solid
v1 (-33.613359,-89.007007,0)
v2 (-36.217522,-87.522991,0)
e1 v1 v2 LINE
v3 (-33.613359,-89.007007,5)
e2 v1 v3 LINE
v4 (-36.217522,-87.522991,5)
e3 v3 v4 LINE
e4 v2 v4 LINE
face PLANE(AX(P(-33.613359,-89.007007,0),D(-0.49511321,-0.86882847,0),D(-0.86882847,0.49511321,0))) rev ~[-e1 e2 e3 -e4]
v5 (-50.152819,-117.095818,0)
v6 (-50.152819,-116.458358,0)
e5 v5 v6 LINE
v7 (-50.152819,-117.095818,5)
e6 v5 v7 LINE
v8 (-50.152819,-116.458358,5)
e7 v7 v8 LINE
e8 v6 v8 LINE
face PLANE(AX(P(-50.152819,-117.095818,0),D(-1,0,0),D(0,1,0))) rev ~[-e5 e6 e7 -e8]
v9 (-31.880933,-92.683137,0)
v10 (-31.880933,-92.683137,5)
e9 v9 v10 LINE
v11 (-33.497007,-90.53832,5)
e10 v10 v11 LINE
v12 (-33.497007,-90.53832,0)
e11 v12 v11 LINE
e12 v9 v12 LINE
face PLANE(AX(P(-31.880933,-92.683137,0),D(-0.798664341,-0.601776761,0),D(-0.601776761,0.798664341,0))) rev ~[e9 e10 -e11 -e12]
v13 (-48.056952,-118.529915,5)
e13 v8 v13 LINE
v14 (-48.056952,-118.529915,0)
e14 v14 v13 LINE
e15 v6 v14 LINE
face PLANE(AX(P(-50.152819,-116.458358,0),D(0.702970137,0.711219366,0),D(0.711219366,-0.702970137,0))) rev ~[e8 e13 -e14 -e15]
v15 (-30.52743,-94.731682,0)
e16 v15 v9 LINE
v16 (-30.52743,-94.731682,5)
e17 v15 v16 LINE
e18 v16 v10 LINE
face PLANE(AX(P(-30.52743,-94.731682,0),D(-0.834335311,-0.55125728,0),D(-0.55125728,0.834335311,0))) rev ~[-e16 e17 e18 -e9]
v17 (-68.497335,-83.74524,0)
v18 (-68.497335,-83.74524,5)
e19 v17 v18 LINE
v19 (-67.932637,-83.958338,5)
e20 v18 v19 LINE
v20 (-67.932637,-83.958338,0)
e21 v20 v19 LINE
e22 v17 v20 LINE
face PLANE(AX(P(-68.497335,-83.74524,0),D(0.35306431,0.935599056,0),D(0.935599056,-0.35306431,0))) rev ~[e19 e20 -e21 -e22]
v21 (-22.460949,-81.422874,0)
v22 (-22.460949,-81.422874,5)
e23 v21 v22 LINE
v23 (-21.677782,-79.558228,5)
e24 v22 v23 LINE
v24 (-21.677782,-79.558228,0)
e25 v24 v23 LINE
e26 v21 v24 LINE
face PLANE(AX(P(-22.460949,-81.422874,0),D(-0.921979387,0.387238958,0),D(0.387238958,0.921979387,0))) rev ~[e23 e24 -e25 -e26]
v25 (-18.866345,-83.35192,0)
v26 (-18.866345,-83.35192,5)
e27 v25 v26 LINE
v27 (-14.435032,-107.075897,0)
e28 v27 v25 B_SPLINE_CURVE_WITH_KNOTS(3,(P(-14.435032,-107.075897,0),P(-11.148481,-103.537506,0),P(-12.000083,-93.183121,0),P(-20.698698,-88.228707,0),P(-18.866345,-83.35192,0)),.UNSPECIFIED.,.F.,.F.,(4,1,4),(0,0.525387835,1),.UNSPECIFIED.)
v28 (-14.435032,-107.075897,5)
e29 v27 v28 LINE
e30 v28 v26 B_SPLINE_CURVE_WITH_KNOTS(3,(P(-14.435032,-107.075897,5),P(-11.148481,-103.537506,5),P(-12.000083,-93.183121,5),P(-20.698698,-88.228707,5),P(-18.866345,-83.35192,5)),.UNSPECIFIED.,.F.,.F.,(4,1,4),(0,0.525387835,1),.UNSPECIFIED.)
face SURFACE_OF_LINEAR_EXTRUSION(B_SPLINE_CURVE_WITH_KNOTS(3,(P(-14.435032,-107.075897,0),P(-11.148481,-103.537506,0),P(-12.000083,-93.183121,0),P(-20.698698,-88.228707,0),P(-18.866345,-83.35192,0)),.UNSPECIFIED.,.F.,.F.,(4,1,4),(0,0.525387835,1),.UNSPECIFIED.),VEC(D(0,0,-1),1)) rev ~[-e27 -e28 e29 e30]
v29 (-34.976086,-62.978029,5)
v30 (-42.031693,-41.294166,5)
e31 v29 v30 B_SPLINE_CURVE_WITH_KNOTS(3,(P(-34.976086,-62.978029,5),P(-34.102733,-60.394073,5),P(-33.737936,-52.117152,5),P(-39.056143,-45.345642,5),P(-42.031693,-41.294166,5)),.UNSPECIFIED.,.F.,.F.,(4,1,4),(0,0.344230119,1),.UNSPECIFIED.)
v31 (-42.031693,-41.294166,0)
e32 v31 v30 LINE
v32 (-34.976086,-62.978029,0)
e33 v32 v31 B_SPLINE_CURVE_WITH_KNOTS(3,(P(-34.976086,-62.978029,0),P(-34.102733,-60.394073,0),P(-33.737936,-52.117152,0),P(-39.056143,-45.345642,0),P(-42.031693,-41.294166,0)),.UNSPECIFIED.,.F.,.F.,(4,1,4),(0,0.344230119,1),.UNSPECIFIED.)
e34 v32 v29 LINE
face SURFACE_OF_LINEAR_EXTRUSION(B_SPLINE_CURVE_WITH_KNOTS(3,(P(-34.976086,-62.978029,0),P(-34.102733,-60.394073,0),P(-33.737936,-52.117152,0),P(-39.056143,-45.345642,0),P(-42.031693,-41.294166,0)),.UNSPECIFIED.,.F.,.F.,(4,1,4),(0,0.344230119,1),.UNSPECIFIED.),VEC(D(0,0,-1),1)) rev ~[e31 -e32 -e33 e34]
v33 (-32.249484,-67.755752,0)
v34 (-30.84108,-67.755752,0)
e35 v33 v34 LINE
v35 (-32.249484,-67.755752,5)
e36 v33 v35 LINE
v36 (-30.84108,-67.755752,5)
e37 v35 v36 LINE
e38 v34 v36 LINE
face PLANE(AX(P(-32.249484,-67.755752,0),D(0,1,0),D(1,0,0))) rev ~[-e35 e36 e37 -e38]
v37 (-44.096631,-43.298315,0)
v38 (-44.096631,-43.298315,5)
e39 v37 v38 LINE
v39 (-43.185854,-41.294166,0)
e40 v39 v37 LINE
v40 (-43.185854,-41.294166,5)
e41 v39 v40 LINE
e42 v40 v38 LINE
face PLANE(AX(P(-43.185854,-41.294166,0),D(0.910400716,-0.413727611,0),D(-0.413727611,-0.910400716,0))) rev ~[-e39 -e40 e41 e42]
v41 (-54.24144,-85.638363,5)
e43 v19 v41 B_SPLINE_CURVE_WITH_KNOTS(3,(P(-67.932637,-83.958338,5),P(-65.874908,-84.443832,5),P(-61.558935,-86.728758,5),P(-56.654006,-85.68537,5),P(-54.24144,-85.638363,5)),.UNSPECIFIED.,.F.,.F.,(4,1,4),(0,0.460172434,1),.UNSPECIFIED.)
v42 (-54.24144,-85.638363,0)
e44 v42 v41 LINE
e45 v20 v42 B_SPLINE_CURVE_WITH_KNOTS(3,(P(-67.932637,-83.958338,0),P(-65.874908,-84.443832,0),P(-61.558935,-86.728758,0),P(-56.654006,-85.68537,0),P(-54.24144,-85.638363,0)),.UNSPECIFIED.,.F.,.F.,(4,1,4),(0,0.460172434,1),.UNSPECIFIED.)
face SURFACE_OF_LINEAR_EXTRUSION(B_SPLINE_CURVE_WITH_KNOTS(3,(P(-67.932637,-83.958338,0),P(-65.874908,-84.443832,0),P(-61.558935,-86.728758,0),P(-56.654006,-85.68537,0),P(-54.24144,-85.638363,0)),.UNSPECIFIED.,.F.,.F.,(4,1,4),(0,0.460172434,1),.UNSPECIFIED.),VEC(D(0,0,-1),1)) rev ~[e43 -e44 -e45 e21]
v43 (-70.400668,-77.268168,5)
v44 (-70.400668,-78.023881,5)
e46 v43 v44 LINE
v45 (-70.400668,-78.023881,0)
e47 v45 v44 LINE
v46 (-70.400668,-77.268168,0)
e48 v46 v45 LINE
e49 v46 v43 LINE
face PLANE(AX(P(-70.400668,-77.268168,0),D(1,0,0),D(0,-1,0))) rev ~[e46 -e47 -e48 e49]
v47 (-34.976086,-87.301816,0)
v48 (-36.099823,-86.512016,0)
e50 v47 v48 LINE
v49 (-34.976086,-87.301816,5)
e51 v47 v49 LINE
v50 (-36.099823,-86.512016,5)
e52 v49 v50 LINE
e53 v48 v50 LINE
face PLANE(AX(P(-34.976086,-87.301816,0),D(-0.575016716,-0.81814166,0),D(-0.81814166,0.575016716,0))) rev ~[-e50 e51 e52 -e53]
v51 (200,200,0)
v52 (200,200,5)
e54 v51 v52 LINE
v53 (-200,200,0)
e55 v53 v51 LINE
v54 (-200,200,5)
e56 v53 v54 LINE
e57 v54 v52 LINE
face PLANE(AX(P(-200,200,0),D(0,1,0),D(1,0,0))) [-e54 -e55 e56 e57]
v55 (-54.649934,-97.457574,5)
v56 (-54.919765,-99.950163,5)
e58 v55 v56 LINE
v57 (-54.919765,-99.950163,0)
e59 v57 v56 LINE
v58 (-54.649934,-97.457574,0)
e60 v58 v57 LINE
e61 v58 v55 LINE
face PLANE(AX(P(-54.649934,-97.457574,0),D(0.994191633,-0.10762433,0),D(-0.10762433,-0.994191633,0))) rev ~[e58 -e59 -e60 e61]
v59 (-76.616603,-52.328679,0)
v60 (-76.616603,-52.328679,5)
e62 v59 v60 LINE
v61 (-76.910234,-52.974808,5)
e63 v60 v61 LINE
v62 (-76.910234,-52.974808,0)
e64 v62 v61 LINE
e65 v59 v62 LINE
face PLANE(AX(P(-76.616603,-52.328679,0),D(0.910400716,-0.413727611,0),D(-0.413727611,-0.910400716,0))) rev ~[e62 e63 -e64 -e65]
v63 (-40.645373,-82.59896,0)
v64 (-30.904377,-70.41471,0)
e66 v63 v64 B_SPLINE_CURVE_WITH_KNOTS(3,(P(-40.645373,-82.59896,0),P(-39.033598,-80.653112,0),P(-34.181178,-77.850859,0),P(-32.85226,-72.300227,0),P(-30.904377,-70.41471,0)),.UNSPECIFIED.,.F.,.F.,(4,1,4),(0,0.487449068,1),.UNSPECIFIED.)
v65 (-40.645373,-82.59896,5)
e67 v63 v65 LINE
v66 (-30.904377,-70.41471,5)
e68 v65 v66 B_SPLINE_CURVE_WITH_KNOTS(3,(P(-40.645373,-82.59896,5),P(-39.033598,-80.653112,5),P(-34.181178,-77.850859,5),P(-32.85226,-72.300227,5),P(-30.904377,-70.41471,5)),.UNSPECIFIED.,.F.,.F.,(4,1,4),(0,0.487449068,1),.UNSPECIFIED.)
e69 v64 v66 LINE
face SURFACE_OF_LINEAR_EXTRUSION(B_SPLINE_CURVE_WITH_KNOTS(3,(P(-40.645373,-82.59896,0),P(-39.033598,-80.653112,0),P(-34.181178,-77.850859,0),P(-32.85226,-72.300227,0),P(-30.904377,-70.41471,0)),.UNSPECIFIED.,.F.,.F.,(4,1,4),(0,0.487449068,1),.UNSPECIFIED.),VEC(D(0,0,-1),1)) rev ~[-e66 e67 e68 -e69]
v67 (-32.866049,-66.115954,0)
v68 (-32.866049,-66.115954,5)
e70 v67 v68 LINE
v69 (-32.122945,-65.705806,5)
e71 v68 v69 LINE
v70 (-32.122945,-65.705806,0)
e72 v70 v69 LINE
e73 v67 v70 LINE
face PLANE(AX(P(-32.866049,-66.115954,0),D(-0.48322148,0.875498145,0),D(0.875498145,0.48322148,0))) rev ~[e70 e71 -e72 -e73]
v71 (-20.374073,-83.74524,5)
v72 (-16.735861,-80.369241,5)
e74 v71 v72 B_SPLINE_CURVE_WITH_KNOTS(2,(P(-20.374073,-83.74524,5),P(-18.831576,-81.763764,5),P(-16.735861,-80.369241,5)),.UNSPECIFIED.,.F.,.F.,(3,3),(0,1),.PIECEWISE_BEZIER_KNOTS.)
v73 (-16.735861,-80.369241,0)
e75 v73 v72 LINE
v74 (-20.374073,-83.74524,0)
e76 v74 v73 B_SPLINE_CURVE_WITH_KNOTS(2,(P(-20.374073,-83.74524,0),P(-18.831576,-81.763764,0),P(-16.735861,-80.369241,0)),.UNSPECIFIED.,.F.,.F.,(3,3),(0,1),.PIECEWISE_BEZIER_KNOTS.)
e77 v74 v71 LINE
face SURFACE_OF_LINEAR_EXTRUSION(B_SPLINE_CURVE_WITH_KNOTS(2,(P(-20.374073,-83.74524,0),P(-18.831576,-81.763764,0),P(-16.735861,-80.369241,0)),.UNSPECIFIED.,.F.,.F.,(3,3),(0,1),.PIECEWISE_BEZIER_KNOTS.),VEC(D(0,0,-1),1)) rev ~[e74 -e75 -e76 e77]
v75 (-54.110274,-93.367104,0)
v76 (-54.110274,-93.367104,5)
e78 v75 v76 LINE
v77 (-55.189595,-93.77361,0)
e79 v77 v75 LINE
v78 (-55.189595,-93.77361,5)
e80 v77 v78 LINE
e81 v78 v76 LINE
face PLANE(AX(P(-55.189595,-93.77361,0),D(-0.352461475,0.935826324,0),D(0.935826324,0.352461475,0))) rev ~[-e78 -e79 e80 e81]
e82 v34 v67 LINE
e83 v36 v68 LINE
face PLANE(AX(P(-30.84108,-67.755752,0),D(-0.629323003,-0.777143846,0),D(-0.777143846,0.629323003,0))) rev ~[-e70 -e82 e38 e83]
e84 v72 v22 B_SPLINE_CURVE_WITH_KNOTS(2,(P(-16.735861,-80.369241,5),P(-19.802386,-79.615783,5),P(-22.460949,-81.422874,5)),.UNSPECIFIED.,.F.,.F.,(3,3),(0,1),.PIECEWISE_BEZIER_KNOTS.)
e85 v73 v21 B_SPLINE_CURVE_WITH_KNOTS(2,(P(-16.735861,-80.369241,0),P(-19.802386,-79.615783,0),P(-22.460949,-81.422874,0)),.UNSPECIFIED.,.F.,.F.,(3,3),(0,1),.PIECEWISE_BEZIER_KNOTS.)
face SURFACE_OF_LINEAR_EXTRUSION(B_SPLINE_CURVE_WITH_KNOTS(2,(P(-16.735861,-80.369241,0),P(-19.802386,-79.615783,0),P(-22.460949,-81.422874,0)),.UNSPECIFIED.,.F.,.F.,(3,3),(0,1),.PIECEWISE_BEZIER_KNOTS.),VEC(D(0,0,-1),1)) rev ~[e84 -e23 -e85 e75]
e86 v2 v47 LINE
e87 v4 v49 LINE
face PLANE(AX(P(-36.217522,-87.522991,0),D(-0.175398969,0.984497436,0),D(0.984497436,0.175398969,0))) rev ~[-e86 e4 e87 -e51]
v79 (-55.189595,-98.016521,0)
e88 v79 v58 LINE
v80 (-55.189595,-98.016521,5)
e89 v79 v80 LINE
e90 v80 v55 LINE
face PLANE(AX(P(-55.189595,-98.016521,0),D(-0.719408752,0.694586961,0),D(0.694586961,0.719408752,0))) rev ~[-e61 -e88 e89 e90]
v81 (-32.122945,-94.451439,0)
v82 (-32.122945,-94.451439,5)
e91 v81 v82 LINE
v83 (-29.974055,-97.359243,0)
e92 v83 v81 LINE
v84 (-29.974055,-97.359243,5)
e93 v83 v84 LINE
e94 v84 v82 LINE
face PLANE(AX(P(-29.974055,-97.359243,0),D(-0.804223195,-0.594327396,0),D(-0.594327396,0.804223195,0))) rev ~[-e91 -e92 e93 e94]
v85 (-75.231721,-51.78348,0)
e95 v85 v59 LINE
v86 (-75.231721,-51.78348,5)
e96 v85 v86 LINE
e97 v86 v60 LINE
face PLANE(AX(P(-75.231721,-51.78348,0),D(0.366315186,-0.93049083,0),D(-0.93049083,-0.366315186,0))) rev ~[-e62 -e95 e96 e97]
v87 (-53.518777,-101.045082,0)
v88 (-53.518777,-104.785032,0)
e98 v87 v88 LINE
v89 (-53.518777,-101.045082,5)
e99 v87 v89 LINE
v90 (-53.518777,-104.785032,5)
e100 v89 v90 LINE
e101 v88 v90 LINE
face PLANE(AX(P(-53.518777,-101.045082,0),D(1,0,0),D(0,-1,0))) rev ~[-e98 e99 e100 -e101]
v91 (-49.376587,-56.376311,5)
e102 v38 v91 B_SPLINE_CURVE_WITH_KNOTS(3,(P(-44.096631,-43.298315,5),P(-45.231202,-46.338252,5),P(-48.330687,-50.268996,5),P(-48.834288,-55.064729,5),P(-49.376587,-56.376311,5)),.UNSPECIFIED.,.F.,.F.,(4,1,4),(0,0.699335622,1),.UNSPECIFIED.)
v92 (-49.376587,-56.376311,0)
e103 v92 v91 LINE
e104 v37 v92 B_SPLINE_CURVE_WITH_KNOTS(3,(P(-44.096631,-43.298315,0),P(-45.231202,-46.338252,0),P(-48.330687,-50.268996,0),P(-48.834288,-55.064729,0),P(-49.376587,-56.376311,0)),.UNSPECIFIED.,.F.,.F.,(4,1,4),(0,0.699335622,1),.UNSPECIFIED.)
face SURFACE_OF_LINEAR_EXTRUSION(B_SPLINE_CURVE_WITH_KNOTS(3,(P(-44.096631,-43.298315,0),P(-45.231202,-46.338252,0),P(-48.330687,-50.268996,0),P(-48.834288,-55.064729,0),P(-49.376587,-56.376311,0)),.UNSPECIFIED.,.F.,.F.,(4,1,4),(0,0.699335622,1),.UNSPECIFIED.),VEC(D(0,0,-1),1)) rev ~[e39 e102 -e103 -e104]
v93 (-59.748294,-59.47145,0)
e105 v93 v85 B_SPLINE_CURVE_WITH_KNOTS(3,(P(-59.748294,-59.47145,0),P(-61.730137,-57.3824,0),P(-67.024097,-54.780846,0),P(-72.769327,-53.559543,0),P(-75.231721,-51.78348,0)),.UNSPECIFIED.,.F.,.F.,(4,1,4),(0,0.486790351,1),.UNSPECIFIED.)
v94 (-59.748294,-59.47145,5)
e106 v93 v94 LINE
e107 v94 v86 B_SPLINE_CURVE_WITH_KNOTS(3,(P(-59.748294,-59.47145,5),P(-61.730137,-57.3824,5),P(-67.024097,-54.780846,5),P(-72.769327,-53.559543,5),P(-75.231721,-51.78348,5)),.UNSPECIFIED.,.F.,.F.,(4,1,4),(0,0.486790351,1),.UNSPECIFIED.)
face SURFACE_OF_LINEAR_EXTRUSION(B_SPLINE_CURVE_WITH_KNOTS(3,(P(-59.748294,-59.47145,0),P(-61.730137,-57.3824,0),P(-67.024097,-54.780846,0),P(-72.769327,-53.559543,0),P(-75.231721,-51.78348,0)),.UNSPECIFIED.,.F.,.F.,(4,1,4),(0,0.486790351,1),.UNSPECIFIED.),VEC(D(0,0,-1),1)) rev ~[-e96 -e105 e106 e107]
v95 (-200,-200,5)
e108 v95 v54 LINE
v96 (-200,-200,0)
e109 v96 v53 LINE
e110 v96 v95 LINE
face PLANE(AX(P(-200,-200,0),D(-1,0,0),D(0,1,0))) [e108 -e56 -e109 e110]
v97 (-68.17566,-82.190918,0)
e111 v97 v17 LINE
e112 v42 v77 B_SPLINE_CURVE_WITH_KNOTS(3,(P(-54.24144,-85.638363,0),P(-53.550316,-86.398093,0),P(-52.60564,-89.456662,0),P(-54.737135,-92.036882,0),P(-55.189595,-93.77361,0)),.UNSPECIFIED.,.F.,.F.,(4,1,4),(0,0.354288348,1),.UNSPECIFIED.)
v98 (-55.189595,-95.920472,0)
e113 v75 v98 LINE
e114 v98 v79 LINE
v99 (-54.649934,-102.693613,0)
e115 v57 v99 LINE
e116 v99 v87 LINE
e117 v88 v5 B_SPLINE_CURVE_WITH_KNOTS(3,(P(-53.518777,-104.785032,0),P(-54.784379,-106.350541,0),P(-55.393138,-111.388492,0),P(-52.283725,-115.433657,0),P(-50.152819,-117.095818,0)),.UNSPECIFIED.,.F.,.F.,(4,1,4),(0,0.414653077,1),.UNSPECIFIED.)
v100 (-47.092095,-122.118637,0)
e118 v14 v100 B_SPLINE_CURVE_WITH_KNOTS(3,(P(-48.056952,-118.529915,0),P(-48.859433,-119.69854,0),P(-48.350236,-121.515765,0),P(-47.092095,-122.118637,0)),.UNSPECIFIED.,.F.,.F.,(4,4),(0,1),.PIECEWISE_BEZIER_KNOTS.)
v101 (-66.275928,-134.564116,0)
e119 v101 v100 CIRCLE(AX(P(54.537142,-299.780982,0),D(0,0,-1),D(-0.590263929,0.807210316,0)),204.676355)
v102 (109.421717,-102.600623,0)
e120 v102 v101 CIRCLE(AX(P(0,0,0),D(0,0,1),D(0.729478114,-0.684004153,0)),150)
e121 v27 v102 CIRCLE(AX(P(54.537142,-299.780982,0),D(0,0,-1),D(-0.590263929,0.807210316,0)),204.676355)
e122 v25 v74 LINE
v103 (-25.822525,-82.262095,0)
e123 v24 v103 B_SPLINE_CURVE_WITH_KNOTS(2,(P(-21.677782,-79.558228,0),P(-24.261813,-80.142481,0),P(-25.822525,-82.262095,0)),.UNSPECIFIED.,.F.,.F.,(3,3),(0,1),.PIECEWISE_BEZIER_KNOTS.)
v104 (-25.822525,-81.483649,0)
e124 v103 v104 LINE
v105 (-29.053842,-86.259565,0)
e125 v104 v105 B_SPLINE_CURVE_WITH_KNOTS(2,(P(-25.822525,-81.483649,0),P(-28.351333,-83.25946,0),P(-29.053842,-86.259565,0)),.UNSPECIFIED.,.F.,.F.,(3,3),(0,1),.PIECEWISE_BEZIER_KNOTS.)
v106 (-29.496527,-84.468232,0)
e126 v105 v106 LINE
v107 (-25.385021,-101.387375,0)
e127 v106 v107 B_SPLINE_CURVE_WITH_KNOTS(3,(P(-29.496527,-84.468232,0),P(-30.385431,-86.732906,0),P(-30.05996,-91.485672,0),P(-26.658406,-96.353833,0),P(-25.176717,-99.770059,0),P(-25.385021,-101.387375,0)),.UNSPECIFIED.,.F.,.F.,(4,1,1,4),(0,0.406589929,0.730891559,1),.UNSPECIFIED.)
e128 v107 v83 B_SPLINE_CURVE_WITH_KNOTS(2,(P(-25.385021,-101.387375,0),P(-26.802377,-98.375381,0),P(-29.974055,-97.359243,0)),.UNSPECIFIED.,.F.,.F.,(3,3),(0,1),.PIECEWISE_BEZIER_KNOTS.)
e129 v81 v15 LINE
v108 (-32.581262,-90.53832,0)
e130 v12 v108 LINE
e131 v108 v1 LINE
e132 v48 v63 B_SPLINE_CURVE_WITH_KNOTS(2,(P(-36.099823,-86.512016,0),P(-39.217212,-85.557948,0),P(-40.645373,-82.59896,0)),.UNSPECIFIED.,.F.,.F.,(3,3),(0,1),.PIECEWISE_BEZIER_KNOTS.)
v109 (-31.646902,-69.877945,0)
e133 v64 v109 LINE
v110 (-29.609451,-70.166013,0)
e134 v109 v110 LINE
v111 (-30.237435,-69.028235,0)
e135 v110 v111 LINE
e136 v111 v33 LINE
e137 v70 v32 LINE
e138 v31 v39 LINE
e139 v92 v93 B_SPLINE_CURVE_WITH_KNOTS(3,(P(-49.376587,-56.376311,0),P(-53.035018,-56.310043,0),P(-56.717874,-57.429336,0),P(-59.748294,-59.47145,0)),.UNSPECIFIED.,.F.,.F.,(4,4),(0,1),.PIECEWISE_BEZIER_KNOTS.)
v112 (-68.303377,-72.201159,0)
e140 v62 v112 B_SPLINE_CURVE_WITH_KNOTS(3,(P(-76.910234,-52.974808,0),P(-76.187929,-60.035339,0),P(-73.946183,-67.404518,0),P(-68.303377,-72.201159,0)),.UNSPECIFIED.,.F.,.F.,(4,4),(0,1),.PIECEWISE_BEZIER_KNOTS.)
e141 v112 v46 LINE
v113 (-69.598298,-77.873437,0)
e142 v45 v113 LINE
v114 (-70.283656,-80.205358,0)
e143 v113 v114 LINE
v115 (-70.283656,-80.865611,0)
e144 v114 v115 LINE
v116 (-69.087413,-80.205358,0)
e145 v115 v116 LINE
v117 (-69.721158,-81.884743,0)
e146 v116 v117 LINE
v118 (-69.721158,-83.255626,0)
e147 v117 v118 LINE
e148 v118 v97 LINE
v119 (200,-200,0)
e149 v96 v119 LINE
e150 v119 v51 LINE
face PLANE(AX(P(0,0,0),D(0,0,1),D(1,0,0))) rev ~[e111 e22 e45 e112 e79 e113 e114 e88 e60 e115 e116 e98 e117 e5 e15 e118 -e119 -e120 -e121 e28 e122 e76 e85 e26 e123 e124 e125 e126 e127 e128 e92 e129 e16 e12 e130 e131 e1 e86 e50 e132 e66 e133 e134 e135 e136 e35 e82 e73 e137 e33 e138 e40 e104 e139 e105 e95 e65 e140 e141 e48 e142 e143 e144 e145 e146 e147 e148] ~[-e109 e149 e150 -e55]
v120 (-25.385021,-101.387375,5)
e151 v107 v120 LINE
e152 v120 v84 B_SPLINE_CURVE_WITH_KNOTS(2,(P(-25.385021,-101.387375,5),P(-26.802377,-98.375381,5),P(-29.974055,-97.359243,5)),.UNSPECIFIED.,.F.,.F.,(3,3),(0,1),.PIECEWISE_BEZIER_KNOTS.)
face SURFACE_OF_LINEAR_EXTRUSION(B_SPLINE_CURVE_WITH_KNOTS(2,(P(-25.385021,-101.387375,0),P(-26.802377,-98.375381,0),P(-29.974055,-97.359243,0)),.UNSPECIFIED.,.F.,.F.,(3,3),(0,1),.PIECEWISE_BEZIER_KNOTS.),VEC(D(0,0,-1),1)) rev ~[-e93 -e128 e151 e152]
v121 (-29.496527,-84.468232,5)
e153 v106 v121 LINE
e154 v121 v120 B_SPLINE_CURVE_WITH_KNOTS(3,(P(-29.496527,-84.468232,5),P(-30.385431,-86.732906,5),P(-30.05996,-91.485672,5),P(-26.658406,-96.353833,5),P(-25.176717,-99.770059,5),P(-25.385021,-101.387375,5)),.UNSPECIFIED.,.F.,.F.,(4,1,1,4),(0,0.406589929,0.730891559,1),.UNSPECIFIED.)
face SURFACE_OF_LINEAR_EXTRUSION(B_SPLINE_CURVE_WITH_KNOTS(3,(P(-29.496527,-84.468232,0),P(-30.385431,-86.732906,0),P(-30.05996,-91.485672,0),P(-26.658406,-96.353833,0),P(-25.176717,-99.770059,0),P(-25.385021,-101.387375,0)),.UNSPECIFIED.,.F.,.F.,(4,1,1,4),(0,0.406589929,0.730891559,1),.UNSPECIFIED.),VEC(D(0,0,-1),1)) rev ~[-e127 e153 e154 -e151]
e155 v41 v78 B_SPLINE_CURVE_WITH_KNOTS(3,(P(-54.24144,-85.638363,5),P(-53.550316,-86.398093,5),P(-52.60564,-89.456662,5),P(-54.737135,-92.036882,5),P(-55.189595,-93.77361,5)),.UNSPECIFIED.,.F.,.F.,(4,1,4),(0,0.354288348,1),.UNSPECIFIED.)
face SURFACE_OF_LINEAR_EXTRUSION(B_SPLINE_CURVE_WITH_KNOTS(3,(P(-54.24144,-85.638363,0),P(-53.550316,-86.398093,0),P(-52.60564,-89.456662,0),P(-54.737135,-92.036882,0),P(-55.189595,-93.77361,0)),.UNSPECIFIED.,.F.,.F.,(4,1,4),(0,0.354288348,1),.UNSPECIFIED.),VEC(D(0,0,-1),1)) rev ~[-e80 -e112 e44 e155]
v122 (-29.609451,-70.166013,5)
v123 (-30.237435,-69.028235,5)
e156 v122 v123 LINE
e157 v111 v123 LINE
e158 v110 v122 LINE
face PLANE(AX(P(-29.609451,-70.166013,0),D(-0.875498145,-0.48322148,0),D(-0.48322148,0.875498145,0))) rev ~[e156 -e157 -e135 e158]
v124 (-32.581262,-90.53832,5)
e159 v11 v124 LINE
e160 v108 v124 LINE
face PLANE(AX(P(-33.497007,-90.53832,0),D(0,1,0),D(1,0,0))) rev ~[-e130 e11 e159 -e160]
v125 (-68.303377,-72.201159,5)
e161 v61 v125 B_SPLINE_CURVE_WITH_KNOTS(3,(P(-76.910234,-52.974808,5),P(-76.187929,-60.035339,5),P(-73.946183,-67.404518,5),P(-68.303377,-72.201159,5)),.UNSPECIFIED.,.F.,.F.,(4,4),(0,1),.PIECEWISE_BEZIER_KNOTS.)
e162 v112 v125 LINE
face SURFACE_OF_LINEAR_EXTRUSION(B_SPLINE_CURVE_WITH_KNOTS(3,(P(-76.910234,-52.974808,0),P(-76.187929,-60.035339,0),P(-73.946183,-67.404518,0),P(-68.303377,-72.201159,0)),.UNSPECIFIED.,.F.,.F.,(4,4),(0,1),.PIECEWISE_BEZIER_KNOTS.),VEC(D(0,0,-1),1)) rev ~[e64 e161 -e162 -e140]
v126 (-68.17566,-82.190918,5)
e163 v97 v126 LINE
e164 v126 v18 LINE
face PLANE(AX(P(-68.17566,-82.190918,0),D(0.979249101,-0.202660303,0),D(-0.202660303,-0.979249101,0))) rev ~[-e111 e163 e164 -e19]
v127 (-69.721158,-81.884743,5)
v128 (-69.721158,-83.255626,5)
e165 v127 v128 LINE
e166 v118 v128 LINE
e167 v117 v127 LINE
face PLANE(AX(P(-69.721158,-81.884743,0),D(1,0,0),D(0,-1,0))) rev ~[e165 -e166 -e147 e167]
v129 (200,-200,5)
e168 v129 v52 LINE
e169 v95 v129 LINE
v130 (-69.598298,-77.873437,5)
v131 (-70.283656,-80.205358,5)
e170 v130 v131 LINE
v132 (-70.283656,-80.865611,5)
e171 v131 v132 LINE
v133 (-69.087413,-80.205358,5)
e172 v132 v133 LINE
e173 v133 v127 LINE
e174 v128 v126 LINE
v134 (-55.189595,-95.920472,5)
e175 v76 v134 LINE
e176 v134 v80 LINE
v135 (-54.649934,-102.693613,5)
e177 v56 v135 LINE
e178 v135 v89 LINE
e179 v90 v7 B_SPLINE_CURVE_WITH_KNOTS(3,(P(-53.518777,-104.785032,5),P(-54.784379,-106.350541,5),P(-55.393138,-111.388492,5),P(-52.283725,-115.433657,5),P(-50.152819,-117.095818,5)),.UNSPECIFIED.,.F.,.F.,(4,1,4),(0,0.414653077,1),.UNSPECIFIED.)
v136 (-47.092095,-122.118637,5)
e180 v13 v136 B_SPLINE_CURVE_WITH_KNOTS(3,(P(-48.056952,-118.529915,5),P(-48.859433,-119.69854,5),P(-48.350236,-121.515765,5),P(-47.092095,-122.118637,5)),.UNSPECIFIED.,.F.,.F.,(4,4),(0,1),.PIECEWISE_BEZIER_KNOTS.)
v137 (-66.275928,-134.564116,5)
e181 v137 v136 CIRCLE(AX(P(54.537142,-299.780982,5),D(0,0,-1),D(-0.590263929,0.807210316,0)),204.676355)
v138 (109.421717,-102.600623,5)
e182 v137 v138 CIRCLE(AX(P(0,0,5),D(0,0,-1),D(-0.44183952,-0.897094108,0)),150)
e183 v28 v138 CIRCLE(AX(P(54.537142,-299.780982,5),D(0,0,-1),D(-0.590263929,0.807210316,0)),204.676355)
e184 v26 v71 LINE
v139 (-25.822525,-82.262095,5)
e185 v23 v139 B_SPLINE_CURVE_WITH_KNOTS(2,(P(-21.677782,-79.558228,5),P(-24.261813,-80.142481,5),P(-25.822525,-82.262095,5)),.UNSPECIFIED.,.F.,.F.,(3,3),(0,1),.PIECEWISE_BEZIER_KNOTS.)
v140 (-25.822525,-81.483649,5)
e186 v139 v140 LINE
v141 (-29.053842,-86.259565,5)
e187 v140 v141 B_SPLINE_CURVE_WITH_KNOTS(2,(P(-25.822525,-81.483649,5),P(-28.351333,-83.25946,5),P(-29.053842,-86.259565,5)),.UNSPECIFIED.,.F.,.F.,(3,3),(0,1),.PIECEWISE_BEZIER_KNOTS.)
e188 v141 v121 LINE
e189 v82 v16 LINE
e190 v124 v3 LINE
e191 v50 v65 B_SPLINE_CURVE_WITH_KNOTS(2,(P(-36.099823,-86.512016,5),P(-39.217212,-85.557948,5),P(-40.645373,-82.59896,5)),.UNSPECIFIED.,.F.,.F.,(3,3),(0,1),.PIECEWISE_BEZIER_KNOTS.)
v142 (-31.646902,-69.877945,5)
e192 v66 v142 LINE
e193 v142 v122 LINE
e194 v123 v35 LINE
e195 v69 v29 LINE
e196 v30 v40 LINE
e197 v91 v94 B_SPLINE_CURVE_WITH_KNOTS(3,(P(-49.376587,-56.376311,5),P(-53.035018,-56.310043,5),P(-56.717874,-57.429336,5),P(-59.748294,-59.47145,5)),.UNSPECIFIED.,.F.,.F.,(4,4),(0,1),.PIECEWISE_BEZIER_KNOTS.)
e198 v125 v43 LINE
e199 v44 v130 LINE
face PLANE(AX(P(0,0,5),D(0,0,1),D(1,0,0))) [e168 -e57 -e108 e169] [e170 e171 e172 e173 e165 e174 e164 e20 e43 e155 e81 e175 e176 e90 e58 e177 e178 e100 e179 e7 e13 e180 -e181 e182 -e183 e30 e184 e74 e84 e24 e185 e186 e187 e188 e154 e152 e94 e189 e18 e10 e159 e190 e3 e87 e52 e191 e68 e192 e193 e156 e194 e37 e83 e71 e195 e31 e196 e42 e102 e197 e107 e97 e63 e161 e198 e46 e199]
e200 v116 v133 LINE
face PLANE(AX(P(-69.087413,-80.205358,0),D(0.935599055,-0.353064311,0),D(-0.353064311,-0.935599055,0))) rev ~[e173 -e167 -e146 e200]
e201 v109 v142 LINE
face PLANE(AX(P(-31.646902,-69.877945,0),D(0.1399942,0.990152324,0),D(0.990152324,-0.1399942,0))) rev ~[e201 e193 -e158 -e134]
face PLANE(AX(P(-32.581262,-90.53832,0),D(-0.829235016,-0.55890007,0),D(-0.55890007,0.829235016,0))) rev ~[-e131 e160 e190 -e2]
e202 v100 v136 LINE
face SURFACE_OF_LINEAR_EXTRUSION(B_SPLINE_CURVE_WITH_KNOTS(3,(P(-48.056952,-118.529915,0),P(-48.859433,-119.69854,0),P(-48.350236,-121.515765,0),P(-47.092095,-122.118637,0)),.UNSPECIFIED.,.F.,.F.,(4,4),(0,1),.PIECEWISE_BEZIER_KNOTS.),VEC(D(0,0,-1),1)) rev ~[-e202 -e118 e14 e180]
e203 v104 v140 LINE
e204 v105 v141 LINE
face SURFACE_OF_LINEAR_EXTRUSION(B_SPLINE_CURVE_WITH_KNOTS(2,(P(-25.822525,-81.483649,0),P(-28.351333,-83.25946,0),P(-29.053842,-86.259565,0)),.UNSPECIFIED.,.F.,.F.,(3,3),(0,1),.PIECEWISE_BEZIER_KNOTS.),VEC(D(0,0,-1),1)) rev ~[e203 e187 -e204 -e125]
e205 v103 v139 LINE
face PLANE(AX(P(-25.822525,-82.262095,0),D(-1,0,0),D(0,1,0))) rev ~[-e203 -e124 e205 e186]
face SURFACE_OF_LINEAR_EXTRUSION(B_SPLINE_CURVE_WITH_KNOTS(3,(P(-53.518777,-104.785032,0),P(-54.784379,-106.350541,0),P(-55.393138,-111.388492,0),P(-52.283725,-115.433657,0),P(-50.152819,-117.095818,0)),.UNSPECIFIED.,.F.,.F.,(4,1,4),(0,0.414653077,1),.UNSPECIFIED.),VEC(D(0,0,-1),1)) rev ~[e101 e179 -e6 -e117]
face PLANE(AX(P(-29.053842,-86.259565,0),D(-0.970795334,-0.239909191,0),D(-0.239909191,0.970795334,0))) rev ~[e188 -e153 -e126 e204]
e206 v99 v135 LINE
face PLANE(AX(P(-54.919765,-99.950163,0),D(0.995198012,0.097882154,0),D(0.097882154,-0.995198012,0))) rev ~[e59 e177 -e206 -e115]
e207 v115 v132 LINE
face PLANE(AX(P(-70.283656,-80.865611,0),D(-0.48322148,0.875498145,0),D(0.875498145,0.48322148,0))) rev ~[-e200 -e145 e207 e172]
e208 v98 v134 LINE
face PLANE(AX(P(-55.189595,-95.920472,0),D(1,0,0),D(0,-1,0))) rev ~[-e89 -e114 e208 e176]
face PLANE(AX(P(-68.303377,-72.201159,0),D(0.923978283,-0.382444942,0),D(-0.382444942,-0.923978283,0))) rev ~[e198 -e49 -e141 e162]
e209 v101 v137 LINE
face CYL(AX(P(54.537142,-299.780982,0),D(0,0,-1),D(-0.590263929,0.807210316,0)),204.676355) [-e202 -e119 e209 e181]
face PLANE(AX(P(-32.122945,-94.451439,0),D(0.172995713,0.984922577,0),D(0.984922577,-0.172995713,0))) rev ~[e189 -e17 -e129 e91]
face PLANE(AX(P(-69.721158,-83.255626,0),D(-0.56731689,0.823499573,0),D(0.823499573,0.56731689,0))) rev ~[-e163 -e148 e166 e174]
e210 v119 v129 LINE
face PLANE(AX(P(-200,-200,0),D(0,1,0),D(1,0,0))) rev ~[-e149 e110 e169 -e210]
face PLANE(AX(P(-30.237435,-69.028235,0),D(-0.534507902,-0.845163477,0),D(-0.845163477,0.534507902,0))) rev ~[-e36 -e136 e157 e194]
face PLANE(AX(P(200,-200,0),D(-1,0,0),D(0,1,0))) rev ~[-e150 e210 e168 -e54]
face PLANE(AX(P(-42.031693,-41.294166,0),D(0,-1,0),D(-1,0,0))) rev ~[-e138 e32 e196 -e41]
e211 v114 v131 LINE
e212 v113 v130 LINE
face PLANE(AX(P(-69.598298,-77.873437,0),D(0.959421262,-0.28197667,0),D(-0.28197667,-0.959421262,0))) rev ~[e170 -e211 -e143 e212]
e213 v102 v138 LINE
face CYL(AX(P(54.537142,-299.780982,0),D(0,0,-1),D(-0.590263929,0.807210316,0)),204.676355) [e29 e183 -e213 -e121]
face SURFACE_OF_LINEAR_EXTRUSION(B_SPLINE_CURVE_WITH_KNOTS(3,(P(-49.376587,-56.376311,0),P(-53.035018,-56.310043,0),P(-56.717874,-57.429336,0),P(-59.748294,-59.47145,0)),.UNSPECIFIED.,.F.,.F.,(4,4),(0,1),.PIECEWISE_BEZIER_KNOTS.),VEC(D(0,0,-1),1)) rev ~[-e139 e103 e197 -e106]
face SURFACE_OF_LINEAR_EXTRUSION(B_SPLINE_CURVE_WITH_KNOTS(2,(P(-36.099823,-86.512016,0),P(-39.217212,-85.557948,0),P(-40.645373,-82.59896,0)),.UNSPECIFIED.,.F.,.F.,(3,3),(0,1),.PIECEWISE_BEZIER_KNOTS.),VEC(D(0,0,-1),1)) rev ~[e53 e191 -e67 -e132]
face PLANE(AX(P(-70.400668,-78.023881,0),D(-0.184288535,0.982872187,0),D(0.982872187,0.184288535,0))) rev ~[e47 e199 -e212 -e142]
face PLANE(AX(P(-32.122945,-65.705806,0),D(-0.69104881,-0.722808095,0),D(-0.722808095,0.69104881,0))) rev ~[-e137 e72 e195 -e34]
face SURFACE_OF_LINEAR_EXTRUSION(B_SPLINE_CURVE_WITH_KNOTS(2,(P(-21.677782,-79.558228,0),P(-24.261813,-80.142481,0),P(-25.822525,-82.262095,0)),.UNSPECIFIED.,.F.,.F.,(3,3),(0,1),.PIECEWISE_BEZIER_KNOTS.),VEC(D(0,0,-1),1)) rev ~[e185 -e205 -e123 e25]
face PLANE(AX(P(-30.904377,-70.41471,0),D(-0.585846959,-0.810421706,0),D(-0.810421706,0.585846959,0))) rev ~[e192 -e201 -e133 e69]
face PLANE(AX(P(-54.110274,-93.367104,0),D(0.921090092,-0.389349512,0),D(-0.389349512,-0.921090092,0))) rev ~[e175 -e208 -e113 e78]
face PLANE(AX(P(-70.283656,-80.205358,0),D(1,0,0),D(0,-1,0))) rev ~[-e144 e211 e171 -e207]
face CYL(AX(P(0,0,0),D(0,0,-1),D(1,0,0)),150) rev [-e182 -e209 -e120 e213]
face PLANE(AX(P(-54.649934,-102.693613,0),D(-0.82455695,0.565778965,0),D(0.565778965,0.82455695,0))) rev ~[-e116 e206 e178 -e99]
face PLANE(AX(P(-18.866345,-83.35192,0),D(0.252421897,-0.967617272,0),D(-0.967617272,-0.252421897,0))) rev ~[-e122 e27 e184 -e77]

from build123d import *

# Parameters (mm, degrees)
ESQUISSE1_W        = 400
ESQUISSE1_H        = 400
ESQUISSE1_R        = 150
BOSS_EXTRU_1_DEPTH = 5
BOSS_EXTRU_2_START = -5
BOSS_EXTRU_2_DEPTH = 5
BOSS_EXTRU_4_START = -5
BOSS_EXTRU_4_DEPTH = 5


with BuildPart() as part:
    # Esquisse1 → Boss.-Extru.1 (new body)
    with BuildSketch(Plane.XY):
        Rectangle(ESQUISSE1_W, ESQUISSE1_H)
        Circle(ESQUISSE1_R, mode=Mode.SUBTRACT)
    extrude(amount=BOSS_EXTRU_1_DEPTH)

    # Esquisse2 → Boss.-Extru.2 (add)
    with BuildSketch(Plane.XY.offset(5).offset(BOSS_EXTRU_2_START)):
        with BuildLine():
            ThreePointArc((-66.275928016, -134.564116188), (17.903034415, -98.409800426), (109.421717045, -102.600622995))
            ThreePointArc((109.421717045, -102.600622995), (26.84783049, -147.57775577), (-66.275928016, -134.564116188))
        make_face()
    extrude(amount=BOSS_EXTRU_2_DEPTH)

    # Esquisse5 → Boss.-Extru.4 (add)
    with BuildSketch(Plane.XY.offset(5).offset(BOSS_EXTRU_4_START)):
        with BuildLine():
            Line((-18.866345265, -83.351919662), (-20.37407273, -83.74523987))
            add(Edge.make_bspline(
                [(-20.37407273, -83.74523987), (-18.831576298, -81.763764071), (-16.735860805, -80.369241418)],
                knots=[0, 0, 0, 1, 1, 1], degree=2))
            add(Edge.make_bspline(
                [(-16.735860805, -80.369241418), (-19.802386047, -79.615782741), (-22.460949022, -81.422874022)],
                knots=[0, 0, 0, 1, 1, 1], degree=2))
            Line((-22.460949022, -81.422874022), (-21.677782316, -79.558228062))
            add(Edge.make_bspline(
                [(-21.677782316, -79.558228062), (-24.26181325, -80.142481289), (-25.822525036, -82.262094558)],
                knots=[0, 0, 0, 1, 1, 1], degree=2))
            Line((-25.822525036, -82.262094558), (-25.822525036, -81.483648674))
            add(Edge.make_bspline(
                [(-25.822525036, -81.483648674), (-28.351333433, -83.259460466), (-29.053841556, -86.259564776)],
                knots=[0, 0, 0, 1, 1, 1], degree=2))
            Line((-29.053841556, -86.259564776), (-29.496527169, -84.468232294))
            add(Edge.make_bspline(
                [(-29.496527169, -84.468232294), (-30.385431001, -86.732906367), (-30.059960229, -91.485672478), (-26.658406188, -96.353832625), (-25.176717422, -99.770059496), (-25.385021469, -101.387375039)],
                knots=[0, 0, 0, 0, 0.406589929, 0.730891559, 1, 1, 1, 1], degree=3))
            add(Edge.make_bspline(
                [(-25.385021469, -101.387375039), (-26.802377477, -98.375380833), (-29.974054698, -97.359243335)],
                knots=[0, 0, 0, 1, 1, 1], degree=2))
            Line((-29.974054698, -97.359243335), (-32.122945451, -94.451438986))
            Line((-32.122945451, -94.451438986), (-30.527430237, -94.731681614))
            Line((-30.527430237, -94.731681614), (-31.880933057, -92.683136884))
            Line((-31.880933057, -92.683136884), (-33.497007064, -90.538320458))
            Line((-33.497007064, -90.538320458), (-32.581262202, -90.538320458))
            Line((-32.581262202, -90.538320458), (-33.613359396, -89.007007118))
            Line((-33.613359396, -89.007007118), (-36.217522242, -87.522991031))
            Line((-36.217522242, -87.522991031), (-34.976085707, -87.301815556))
            Line((-34.976085707, -87.301815556), (-36.099822643, -86.512016486))
            add(Edge.make_bspline(
                [(-36.099822643, -86.512016486), (-39.217212358, -85.557948169), (-40.645373336, -82.598959987)],
                knots=[0, 0, 0, 1, 1, 1], degree=2))
            add(Edge.make_bspline(
                [(-40.645373336, -82.598959987), (-39.03359815, -80.653112191), (-34.181178142, -77.850858673), (-32.852259513, -72.300227157), (-30.904376568, -70.414710171)],
                knots=[0, 0, 0, 0, 0.487449068, 1, 1, 1, 1], degree=3))
            Line((-30.904376568, -70.414710171), (-31.646902368, -69.877944585))
            Line((-31.646902368, -69.877944585), (-29.609451058, -70.166012753))
            Line((-29.609451058, -70.166012753), (-30.237434638, -69.028235393))
            Line((-30.237434638, -69.028235393), (-32.249484484, -67.755751936))
            Line((-32.249484484, -67.755751936), (-30.841080327, -67.755751936))
            Line((-30.841080327, -67.755751936), (-32.866048633, -66.115953665))
            Line((-32.866048633, -66.115953665), (-32.122945451, -65.705806115))
            Line((-32.122945451, -65.705806115), (-34.976085707, -62.978029277))
            add(Edge.make_bspline(
                [(-34.976085707, -62.978029277), (-34.102733297, -60.394072595), (-33.737935509, -52.117151528), (-39.05614256, -45.345642181), (-42.031693147, -41.294166441)],
                knots=[0, 0, 0, 0, 0.344230119, 1, 1, 1, 1], degree=3))
            Line((-42.031693147, -41.294166441), (-43.185854427, -41.294166441))
            Line((-43.185854427, -41.294166441), (-44.096631121, -43.298315386))
            add(Edge.make_bspline(
                [(-44.096631121, -43.298315386), (-45.231201574, -46.338252094), (-48.330686607, -50.268996334), (-48.834287807, -55.064729459), (-49.3765867, -56.376310655)],
                knots=[0, 0, 0, 0, 0.699335622, 1, 1, 1, 1], degree=3))
            add(Edge.make_bspline(
                [(-49.3765867, -56.376310655), (-53.035018211, -56.310042975), (-56.717874117, -57.429335725), (-59.748293818, -59.471450261)],
                knots=[0, 0, 0, 0, 1, 1, 1, 1], degree=3))
            add(Edge.make_bspline(
                [(-59.748293818, -59.471450261), (-61.730136737, -57.382399641), (-67.02409653, -54.780846239), (-72.769327351, -53.559543058), (-75.231721344, -51.783479704)],
                knots=[0, 0, 0, 0, 0.486790351, 1, 1, 1, 1], degree=3))
            Line((-75.231721344, -51.783479704), (-76.616603351, -52.328679392))
            Line((-76.616603351, -52.328679392), (-76.910233832, -52.974808375))
            add(Edge.make_bspline(
                [(-76.910233832, -52.974808375), (-76.187929468, -60.035339336), (-73.946183278, -67.404517716), (-68.30337696, -72.2011591)],
                knots=[0, 0, 0, 0, 1, 1, 1, 1], degree=3))
            Line((-68.30337696, -72.2011591), (-70.400668481, -77.268167724))
            Line((-70.400668481, -77.268167724), (-70.400668481, -78.023881232))
            Line((-70.400668481, -78.023881232), (-69.598297697, -77.87343671))
            Line((-69.598297697, -77.87343671), (-70.283656075, -80.205357998))
            Line((-70.283656075, -80.205357998), (-70.283656075, -80.865611092))
            Line((-70.283656075, -80.865611092), (-69.087412979, -80.205357998))
            Line((-69.087412979, -80.205357998), (-69.721157599, -81.884742883))
            Line((-69.721157599, -81.884742883), (-69.721157599, -83.255626103))
            Line((-69.721157599, -83.255626103), (-68.175660205, -82.19091787))
            Line((-68.175660205, -82.19091787), (-68.497334605, -83.74523987))
            Line((-68.497334605, -83.74523987), (-67.932636696, -83.958338287))
            add(Edge.make_bspline(
                [(-67.932636696, -83.958338287), (-65.874908009, -84.443832393), (-61.558935468, -86.72875783), (-56.654005751, -85.685370072), (-54.241439725, -85.638363098)],
                knots=[0, 0, 0, 0, 0.460172434, 1, 1, 1, 1], degree=3))
            add(Edge.make_bspline(
                [(-54.241439725, -85.638363098), (-53.550315945, -86.398092796), (-52.60563993, -89.456662165), (-54.737135432, -92.036882428), (-55.189595432, -93.773610113)],
                knots=[0, 0, 0, 0, 0.354288348, 1, 1, 1, 1], degree=3))
            Line((-55.189595432, -93.773610113), (-54.110273533, -93.367103715))
            Line((-54.110273533, -93.367103715), (-55.189595432, -95.920472028))
            Line((-55.189595432, -95.920472028), (-55.189595432, -98.016520642))
            Line((-55.189595432, -98.016520642), (-54.649934483, -97.457574345))
            Line((-54.649934483, -97.457574345), (-54.919764957, -99.950163153))
            Line((-54.919764957, -99.950163153), (-54.649934483, -102.693612698))
            Line((-54.649934483, -102.693612698), (-53.518777052, -101.045082478))
            Line((-53.518777052, -101.045082478), (-53.518777052, -104.785031634))
            add(Edge.make_bspline(
                [(-53.518777052, -104.785031634), (-54.784378844, -106.350541416), (-55.393137974, -111.388492438), (-52.283724717, -115.433656634), (-50.152818663, -117.095817906)],
                knots=[0, 0, 0, 0, 0.414653077, 1, 1, 1, 1], degree=3))
            Line((-50.152818663, -117.095817906), (-50.152818663, -116.458357954))
            Line((-50.152818663, -116.458357954), (-48.056952099, -118.529915166))
            add(Edge.make_bspline(
                [(-48.056952099, -118.529915166), (-48.859432542, -119.698539939), (-48.350236289, -121.515764764), (-47.092095427, -122.118637282)],
                knots=[0, 0, 0, 0, 1, 1, 1, 1], degree=3))
            ThreePointArc((-47.092095427, -122.118637282), (-31.094519185, -113.8787786), (-14.435031904, -107.075896838))
            add(Edge.make_bspline(
                [(-14.435031904, -107.075896838), (-11.14848124, -103.537505901), (-12.000082878, -93.183121296), (-20.698698174, -88.228707084), (-18.866345265, -83.351919662)],
                knots=[0, 0, 0, 0, 0.525387835, 1, 1, 1, 1], degree=3))
        make_face()
    extrude(amount=BOSS_EXTRU_4_DEPTH)


solid = part.part
